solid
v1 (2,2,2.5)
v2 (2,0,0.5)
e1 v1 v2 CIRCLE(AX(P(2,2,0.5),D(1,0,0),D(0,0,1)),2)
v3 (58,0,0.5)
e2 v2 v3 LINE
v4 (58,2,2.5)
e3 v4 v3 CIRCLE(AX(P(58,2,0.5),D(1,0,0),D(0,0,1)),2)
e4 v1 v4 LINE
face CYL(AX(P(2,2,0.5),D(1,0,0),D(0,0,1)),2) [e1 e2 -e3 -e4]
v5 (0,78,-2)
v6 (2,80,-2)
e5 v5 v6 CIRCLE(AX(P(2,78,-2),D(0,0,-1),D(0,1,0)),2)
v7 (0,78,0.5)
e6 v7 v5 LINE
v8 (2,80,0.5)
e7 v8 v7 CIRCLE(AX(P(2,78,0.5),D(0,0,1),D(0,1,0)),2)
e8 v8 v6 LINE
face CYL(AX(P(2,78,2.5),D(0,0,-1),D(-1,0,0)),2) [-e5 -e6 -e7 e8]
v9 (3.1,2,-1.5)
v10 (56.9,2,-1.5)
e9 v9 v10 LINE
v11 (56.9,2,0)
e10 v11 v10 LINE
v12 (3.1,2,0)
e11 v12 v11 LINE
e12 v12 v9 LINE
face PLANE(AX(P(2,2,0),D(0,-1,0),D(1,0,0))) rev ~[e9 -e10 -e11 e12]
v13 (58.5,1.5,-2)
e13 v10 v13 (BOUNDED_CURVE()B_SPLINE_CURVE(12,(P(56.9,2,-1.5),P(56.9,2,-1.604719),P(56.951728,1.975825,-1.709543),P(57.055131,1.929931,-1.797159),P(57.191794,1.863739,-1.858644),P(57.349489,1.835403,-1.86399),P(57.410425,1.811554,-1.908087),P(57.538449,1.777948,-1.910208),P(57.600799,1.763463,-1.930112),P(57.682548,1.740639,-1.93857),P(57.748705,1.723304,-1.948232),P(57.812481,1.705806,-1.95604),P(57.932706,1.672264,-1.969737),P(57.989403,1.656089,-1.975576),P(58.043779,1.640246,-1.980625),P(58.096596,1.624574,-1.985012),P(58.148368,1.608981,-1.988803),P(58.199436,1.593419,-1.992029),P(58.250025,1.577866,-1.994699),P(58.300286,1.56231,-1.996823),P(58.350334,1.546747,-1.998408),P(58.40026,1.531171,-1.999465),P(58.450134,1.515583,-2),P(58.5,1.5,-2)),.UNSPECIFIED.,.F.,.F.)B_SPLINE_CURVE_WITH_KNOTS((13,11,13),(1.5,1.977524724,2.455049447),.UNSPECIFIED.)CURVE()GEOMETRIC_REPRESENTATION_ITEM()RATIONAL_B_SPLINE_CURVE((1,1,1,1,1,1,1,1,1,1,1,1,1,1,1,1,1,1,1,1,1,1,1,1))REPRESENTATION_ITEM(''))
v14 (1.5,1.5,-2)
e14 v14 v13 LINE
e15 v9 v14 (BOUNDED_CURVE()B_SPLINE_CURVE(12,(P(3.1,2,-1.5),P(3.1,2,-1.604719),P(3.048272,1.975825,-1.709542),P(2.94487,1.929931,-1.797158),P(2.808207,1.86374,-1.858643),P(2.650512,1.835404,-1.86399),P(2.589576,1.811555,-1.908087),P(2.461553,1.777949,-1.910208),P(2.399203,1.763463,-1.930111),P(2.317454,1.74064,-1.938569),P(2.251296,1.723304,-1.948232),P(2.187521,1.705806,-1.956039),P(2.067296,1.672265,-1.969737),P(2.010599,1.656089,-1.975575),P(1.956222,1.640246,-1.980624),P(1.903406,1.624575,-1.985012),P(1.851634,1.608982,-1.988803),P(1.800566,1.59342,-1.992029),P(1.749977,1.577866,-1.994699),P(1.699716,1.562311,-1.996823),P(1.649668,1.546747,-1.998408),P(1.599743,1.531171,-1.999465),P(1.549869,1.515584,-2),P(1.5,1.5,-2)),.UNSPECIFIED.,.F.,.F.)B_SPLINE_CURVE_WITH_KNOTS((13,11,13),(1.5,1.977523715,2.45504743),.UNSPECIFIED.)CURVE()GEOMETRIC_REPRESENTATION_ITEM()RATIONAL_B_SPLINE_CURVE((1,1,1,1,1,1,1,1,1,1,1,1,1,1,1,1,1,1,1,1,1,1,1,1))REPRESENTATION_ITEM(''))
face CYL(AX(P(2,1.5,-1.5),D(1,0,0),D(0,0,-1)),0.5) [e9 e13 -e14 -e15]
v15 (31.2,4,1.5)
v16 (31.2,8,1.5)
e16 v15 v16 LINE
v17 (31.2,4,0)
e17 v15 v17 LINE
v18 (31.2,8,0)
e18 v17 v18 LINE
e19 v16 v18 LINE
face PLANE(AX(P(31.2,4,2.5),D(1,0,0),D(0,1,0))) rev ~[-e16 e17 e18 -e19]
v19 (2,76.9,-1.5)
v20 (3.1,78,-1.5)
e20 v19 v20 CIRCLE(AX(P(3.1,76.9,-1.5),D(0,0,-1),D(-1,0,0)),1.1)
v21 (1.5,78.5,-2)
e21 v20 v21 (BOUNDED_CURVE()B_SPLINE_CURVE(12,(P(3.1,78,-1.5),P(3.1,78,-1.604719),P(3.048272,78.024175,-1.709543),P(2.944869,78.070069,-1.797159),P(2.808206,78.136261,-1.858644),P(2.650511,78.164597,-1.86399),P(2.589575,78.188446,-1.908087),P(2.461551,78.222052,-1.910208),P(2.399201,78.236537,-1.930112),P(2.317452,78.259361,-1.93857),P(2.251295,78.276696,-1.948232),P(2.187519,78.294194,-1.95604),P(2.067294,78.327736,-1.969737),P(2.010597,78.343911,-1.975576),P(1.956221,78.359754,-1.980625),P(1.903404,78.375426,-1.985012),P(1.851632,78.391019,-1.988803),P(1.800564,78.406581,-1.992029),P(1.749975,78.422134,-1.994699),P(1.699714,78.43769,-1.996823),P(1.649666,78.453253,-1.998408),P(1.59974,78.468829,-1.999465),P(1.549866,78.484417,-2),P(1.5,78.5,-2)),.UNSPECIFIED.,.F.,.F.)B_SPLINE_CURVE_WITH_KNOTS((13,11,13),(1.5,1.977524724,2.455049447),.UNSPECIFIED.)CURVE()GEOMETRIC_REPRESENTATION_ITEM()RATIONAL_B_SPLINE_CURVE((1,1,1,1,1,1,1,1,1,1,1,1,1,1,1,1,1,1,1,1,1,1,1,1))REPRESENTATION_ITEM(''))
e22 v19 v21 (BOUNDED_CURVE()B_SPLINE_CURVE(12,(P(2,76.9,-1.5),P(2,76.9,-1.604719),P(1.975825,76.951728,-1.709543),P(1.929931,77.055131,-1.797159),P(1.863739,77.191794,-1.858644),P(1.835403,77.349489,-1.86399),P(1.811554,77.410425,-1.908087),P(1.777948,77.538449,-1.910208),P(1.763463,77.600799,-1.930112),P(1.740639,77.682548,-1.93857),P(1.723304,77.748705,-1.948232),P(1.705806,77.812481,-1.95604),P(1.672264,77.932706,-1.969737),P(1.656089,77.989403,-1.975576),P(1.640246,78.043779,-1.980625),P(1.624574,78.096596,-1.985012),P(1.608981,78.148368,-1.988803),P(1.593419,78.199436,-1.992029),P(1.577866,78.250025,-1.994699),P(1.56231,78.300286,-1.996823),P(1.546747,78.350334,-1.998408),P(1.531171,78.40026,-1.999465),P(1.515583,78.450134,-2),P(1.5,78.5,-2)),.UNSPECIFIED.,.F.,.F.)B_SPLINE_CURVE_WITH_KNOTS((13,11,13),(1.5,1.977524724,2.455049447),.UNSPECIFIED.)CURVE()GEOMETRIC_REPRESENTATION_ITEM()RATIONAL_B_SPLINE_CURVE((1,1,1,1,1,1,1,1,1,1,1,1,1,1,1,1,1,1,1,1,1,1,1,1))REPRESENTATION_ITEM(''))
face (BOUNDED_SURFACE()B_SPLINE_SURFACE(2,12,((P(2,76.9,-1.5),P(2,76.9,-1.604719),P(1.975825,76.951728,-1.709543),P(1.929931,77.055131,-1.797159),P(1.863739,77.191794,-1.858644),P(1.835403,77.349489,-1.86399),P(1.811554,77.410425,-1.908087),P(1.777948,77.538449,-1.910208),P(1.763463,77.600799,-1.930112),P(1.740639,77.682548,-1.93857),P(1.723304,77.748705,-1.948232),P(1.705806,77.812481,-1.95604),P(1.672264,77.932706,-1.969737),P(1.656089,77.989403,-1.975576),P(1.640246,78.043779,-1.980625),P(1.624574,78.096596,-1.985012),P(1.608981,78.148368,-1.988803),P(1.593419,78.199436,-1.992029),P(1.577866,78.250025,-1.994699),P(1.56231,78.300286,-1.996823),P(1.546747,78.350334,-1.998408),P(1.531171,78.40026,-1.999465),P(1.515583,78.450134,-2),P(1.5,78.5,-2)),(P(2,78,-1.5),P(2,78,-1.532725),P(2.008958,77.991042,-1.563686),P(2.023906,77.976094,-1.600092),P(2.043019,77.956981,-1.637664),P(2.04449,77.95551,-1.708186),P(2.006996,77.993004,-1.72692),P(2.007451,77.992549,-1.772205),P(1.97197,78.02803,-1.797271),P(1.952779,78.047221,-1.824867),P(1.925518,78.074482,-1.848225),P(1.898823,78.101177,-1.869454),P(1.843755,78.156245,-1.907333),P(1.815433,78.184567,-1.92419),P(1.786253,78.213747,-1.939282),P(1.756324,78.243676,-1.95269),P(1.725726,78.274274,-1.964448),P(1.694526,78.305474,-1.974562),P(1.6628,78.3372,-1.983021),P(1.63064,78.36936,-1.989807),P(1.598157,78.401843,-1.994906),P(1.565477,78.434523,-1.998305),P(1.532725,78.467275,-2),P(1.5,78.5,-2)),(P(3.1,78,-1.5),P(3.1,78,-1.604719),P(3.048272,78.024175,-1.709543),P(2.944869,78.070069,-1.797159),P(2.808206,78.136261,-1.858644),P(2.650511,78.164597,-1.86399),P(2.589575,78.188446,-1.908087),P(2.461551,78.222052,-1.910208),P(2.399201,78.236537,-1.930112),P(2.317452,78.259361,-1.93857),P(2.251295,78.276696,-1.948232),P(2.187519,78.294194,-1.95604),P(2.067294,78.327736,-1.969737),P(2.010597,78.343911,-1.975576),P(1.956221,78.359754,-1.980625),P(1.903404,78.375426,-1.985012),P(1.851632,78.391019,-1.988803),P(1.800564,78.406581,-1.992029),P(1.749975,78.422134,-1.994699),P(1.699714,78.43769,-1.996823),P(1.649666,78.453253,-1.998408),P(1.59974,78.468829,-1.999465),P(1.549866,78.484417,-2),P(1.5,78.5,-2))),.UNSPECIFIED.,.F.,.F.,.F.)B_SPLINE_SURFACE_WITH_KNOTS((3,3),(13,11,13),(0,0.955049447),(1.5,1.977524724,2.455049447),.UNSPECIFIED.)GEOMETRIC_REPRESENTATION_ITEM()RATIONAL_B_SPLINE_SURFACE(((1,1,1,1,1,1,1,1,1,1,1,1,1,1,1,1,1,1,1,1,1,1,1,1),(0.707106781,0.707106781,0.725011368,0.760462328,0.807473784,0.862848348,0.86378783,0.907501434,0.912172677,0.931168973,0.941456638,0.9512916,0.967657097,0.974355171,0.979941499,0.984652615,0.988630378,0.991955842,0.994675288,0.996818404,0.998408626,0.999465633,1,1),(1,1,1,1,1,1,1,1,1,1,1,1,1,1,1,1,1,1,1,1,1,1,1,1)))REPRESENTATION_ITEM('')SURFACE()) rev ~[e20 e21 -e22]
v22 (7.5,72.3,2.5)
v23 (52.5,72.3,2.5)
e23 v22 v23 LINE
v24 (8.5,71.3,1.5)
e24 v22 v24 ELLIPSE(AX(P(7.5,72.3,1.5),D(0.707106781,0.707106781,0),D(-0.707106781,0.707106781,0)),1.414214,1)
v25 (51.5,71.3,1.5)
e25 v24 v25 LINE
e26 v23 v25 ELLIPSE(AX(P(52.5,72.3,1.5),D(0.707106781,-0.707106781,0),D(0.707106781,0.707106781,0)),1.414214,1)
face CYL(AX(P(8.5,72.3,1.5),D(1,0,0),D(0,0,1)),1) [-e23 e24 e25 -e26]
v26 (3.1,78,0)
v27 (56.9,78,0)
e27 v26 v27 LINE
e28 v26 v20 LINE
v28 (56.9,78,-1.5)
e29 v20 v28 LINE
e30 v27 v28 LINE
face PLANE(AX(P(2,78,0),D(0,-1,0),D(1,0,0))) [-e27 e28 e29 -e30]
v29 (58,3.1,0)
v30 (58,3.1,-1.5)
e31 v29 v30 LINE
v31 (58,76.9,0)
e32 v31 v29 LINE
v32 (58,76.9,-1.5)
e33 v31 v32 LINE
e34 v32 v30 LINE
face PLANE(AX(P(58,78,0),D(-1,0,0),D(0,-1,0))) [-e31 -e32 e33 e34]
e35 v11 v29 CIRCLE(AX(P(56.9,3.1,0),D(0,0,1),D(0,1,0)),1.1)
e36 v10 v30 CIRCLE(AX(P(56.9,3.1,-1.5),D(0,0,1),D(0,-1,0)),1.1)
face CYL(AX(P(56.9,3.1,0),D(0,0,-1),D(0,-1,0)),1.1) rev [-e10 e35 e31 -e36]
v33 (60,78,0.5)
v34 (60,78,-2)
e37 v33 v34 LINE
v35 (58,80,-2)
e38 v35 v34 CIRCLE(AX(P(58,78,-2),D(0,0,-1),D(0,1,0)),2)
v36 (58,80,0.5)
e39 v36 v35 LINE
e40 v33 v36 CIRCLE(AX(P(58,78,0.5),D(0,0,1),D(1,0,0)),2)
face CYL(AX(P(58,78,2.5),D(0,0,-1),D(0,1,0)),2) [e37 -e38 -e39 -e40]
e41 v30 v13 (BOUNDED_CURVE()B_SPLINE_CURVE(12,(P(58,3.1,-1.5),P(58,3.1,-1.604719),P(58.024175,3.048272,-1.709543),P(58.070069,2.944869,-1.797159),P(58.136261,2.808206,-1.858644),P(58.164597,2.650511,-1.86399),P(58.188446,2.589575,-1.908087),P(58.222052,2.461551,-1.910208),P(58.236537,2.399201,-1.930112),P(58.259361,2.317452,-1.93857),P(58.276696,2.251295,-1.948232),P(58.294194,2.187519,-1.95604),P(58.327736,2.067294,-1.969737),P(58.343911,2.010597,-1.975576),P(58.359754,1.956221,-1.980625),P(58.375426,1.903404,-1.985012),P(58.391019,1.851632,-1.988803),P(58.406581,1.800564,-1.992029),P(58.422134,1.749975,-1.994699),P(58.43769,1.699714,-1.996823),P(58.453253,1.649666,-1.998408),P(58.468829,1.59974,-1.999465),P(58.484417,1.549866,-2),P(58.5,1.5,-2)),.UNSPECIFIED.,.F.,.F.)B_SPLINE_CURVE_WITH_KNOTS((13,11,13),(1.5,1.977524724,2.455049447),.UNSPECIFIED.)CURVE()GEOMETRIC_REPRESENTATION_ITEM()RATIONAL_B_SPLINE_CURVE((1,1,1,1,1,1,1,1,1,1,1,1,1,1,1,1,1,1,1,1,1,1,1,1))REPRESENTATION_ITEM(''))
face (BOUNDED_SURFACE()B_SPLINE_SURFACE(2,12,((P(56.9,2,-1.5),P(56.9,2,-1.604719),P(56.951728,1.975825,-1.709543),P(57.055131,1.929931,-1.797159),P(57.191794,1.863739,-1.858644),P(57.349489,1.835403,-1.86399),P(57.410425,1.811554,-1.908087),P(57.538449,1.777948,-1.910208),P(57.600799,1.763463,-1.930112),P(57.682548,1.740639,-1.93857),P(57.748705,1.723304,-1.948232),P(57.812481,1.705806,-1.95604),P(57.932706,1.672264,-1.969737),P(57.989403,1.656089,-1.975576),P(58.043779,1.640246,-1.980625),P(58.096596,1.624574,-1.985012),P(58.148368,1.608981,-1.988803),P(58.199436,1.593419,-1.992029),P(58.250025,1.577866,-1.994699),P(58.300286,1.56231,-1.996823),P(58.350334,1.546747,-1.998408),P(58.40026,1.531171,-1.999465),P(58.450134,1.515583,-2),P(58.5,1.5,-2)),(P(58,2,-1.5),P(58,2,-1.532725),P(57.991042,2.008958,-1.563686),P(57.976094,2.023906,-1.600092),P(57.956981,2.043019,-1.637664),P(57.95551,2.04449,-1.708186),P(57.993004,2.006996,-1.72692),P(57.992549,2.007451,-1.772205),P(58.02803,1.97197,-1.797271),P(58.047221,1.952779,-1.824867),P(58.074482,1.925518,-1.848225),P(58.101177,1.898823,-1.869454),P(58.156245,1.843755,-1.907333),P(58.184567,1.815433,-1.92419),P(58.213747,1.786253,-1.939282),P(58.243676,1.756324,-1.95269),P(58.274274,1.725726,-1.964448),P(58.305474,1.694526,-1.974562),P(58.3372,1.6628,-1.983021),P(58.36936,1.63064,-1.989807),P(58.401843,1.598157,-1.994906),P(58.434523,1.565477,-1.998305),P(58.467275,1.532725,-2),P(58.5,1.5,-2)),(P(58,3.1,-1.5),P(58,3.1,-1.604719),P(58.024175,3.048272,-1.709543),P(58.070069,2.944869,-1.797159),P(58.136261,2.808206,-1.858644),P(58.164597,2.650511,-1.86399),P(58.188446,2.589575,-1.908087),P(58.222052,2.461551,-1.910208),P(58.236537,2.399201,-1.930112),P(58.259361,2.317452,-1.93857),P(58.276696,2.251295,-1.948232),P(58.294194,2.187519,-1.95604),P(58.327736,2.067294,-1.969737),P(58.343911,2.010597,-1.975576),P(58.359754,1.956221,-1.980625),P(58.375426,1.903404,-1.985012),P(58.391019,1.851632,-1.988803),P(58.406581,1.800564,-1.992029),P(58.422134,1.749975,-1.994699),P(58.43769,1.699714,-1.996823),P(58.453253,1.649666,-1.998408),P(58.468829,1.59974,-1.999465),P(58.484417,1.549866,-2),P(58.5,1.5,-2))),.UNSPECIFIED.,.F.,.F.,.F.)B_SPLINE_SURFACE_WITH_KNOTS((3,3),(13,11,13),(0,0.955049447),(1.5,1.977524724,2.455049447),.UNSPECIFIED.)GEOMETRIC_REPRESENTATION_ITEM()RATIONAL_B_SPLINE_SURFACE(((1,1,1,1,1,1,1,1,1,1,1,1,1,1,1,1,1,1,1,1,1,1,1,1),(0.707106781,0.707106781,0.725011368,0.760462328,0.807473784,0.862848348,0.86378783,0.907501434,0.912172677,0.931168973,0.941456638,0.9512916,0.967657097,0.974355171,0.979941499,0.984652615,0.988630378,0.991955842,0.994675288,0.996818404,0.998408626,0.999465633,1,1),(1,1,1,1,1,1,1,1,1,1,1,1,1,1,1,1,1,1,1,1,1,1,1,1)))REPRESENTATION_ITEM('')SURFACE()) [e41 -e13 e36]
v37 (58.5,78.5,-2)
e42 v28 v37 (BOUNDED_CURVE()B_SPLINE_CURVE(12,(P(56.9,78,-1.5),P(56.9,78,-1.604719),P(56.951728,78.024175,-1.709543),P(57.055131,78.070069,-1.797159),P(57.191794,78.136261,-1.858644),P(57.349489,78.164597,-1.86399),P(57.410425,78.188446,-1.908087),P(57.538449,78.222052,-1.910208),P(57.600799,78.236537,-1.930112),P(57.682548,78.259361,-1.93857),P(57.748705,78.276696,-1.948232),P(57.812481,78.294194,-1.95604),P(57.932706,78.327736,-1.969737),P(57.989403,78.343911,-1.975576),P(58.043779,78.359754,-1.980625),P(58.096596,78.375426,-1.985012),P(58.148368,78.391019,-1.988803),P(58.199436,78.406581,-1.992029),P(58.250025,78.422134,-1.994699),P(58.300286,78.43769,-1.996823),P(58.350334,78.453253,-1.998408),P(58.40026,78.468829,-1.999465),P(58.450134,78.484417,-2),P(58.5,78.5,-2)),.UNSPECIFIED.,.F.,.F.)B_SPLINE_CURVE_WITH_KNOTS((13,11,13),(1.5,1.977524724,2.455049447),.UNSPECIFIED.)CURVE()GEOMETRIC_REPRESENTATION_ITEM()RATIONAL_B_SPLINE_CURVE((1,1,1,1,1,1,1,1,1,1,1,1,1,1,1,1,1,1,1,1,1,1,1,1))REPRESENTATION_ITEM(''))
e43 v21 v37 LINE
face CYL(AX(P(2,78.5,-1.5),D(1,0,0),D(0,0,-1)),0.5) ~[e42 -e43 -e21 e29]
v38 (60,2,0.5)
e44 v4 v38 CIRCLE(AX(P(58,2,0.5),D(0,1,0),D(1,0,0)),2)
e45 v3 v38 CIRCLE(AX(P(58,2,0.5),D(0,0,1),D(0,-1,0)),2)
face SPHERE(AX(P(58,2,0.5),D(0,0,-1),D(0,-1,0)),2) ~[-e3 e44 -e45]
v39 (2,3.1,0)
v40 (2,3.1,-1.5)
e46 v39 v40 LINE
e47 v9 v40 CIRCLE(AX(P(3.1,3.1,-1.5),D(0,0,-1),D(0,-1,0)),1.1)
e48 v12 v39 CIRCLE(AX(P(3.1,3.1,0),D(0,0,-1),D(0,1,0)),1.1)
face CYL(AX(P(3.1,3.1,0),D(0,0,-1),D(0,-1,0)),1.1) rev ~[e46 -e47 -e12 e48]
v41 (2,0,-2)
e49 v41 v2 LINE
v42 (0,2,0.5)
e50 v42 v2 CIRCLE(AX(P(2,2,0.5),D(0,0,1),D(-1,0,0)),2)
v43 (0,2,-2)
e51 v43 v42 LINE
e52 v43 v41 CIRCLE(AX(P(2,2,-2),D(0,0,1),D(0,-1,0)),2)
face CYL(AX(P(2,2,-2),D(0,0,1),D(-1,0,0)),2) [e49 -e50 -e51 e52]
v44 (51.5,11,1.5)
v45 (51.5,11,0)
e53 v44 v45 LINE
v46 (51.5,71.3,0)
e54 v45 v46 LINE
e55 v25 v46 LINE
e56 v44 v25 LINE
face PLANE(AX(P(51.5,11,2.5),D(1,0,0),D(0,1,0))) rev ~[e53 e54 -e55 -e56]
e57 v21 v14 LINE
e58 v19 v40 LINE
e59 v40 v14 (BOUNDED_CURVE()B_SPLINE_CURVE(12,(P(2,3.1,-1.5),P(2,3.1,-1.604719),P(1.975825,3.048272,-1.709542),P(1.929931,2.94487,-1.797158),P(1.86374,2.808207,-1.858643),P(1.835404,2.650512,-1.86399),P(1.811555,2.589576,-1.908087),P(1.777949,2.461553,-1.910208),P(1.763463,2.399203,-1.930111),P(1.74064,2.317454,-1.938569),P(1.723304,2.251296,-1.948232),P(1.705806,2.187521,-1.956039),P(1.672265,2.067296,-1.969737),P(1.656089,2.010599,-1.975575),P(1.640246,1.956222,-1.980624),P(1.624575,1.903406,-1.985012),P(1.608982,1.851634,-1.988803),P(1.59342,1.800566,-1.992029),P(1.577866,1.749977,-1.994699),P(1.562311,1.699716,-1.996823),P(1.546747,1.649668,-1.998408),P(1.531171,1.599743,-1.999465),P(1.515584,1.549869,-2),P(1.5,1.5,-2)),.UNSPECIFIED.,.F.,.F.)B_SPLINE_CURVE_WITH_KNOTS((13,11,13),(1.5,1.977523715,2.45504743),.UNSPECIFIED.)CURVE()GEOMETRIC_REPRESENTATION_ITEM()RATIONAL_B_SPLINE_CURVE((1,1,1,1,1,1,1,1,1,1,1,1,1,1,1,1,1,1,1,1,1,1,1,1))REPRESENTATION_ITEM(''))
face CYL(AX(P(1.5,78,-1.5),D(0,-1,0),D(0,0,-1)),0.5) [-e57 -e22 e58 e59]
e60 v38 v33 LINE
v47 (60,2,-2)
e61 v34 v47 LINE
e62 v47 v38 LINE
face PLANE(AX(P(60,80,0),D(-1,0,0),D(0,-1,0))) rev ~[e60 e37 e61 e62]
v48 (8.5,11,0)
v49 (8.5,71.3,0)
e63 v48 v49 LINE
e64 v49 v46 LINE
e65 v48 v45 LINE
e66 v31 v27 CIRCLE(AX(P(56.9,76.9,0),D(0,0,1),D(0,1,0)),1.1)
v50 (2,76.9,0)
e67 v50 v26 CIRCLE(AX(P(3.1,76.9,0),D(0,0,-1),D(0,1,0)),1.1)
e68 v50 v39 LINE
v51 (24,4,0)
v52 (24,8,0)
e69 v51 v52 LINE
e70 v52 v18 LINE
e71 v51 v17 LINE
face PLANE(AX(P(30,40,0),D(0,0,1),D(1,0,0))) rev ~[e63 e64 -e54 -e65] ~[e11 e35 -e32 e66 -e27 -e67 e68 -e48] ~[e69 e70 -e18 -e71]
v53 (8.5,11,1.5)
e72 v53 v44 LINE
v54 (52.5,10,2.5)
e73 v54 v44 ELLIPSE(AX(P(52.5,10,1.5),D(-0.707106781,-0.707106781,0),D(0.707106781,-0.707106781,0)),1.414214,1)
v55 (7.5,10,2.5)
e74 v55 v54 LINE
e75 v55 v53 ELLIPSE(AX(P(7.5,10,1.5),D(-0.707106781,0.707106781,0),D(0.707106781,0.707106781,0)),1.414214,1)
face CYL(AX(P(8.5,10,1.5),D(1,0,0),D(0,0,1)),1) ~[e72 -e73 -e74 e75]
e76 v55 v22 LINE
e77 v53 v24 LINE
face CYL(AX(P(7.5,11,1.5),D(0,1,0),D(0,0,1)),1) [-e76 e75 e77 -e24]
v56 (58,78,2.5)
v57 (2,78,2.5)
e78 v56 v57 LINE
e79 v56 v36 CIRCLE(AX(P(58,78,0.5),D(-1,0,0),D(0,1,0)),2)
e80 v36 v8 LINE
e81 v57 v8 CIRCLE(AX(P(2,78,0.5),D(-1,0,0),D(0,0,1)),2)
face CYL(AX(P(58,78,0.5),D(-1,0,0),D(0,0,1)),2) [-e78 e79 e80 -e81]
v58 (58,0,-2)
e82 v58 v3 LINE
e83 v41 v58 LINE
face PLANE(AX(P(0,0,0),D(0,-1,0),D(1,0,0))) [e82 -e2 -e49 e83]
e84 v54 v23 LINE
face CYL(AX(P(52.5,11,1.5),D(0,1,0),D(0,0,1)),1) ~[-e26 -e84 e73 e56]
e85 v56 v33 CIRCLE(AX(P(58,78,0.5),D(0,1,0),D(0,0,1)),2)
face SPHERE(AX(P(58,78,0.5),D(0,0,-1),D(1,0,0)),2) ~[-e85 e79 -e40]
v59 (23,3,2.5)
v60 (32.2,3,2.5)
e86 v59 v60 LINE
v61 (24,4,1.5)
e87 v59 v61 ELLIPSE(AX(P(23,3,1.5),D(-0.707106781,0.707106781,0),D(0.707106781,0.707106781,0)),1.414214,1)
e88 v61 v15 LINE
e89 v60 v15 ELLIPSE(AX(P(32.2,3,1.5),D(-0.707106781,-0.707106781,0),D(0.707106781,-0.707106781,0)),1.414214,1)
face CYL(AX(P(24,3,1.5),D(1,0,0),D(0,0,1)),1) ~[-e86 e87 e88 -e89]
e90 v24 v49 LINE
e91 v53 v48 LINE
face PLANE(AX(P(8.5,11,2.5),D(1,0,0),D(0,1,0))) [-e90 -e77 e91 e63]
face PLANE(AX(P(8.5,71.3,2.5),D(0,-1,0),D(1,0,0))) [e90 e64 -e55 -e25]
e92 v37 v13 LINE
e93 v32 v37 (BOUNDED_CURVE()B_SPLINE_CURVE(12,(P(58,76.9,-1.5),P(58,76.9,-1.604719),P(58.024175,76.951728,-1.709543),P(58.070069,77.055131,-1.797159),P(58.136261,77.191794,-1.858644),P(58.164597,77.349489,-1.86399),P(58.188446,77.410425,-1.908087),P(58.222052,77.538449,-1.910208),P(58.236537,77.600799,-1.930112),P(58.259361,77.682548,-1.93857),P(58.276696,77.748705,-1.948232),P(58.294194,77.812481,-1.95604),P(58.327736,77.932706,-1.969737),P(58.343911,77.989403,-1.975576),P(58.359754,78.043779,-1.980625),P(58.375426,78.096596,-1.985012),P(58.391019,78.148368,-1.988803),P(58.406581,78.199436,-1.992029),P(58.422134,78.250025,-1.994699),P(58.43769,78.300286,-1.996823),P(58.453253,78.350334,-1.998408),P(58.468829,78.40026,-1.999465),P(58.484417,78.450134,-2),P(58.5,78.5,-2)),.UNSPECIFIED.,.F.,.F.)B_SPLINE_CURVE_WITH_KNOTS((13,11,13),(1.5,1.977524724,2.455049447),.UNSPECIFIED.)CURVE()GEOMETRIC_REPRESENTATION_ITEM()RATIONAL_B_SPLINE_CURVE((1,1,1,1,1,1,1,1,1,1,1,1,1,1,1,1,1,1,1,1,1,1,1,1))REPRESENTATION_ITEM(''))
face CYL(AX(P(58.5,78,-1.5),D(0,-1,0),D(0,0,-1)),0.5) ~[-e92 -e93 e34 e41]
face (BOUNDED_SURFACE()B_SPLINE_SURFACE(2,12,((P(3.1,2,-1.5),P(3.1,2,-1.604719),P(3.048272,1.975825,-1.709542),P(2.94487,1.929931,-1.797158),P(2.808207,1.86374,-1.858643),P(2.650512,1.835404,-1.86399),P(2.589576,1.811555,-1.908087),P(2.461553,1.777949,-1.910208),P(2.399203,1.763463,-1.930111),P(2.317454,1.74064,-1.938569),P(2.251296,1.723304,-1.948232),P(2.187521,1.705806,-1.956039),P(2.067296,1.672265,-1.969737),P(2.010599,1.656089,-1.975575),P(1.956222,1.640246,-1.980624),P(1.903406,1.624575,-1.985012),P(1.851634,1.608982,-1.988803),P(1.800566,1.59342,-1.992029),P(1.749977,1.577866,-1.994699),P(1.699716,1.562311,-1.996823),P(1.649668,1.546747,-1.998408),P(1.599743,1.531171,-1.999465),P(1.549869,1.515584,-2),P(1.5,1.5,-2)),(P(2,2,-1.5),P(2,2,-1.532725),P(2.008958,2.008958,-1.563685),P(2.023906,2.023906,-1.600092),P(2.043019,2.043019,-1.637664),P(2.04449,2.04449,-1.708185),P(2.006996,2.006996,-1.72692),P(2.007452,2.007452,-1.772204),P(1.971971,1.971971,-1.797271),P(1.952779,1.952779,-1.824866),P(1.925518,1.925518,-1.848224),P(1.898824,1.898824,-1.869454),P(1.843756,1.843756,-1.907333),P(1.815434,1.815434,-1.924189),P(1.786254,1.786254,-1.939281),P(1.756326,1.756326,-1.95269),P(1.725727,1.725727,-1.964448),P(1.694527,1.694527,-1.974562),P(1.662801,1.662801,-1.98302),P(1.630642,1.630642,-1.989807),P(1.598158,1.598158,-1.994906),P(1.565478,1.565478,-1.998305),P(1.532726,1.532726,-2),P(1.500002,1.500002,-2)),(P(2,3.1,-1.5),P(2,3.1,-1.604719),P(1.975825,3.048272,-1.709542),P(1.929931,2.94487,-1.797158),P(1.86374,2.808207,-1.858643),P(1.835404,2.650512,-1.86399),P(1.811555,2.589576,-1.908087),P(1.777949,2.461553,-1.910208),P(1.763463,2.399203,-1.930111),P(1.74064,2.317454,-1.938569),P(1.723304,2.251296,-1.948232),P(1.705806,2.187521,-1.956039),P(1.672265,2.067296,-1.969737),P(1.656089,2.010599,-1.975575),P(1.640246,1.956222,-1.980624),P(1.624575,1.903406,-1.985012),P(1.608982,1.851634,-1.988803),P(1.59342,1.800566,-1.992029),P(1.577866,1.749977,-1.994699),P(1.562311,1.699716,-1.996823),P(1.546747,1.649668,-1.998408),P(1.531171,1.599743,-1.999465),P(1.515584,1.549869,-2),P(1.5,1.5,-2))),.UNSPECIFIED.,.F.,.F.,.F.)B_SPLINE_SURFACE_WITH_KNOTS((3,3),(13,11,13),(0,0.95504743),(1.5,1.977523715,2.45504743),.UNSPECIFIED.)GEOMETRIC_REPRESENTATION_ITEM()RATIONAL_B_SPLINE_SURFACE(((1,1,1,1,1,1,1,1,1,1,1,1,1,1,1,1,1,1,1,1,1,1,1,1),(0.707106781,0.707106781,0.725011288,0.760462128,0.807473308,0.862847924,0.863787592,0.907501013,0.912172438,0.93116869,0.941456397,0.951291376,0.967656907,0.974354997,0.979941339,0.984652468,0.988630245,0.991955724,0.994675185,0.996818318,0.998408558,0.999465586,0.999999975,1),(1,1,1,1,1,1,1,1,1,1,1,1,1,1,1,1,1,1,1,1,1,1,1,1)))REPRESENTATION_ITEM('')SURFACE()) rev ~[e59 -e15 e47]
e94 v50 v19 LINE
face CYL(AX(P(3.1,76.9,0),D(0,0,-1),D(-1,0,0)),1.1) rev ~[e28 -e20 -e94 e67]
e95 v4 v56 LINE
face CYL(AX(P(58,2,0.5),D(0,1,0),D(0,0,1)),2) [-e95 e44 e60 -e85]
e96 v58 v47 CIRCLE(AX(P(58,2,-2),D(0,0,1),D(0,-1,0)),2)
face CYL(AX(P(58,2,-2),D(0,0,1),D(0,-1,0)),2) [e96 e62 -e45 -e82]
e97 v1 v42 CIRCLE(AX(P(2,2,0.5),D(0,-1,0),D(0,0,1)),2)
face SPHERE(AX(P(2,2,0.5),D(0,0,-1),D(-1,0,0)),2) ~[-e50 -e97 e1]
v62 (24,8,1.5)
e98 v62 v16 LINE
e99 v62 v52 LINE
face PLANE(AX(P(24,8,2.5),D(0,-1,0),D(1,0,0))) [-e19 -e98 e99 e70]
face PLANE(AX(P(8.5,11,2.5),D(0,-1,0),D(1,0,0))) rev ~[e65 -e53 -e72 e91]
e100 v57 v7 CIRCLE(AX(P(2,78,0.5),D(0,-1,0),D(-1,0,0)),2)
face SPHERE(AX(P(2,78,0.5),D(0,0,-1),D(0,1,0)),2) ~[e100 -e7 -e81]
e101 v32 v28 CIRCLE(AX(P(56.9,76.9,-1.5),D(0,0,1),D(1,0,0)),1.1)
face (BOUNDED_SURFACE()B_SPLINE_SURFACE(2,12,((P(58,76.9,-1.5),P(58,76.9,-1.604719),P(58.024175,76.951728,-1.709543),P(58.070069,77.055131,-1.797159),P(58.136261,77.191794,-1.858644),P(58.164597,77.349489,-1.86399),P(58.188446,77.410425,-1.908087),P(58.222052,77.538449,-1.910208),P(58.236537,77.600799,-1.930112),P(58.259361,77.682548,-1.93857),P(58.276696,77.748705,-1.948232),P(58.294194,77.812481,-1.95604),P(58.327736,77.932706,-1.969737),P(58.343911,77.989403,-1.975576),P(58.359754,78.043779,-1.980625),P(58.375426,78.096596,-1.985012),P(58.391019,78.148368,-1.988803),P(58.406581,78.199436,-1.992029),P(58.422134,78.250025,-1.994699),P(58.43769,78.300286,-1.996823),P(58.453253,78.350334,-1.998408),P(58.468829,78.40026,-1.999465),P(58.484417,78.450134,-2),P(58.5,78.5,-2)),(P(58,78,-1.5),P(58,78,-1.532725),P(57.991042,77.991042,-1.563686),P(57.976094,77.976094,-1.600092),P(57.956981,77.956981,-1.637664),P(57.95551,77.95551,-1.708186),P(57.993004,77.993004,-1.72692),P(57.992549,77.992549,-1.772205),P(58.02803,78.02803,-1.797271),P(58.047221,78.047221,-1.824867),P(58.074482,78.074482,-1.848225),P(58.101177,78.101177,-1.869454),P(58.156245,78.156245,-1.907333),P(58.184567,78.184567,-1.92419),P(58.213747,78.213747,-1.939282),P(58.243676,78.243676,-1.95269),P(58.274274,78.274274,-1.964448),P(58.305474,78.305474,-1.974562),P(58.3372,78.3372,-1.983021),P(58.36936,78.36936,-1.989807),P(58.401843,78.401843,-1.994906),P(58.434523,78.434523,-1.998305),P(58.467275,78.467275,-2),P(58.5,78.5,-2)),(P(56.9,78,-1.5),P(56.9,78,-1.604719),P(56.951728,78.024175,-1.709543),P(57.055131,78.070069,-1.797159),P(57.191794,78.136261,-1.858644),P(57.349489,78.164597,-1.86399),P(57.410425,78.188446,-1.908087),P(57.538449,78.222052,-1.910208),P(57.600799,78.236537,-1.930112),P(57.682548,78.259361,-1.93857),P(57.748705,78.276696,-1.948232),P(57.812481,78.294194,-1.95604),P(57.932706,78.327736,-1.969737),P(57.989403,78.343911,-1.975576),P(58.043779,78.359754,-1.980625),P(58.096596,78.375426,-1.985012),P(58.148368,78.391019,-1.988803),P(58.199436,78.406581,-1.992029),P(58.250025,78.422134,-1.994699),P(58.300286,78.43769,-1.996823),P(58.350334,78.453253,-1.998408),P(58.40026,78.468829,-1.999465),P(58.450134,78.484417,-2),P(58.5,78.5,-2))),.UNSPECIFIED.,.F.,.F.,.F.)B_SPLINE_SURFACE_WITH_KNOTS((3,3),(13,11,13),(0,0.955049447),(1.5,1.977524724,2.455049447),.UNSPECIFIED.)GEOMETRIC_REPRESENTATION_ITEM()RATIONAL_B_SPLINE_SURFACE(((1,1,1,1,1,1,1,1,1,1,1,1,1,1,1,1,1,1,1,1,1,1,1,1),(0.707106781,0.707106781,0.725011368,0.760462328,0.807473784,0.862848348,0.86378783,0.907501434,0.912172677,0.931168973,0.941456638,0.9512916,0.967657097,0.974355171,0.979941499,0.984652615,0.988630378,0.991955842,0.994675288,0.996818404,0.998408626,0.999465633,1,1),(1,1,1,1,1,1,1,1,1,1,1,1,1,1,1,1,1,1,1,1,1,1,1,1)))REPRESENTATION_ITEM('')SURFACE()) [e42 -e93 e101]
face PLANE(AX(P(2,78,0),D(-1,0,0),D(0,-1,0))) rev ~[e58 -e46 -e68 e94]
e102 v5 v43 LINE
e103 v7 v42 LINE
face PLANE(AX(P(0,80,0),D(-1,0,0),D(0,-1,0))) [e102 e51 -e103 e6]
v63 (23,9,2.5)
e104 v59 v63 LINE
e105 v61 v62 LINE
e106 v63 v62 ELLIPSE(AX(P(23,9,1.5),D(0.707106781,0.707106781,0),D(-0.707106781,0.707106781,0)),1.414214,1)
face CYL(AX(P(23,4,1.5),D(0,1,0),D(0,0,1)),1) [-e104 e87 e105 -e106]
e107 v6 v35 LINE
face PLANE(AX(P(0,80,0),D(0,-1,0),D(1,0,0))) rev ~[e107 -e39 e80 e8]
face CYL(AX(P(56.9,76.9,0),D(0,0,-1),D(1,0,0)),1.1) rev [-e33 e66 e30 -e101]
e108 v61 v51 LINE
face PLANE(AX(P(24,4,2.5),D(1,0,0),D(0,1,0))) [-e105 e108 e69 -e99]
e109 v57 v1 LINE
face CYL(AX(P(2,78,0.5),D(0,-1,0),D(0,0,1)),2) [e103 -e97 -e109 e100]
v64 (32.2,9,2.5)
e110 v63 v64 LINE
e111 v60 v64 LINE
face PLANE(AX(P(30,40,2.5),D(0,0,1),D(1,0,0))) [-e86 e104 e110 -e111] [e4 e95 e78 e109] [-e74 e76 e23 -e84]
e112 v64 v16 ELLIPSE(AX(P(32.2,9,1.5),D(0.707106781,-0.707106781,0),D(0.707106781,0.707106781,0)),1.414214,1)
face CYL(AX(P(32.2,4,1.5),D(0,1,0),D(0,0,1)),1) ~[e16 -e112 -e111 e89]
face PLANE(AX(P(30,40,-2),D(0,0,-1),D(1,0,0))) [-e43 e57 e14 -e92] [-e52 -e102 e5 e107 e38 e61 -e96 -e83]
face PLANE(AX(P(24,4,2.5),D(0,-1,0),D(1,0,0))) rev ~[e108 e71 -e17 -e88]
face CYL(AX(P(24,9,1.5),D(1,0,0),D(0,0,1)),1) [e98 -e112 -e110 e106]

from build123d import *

# Parameters (mm, degrees)
SKETCH003_W     = 60
SKETCH003_H     = 80
PAD_DEPTH       = 2.5
SKETCH_W        = 43
SKETCH_H        = 60.3
POCKET_DEPTH    = 5
SKETCH004_W     = 60
SKETCH004_H     = 80
SKETCH004_W_2   = 56
SKETCH004_H_2   = 76
PAD001_DEPTH    = 2
SKETCH005_W     = 7.2
SKETCH005_H     = 4
POCKET001_DEPTH = 5
FILLET_R        = 2
FILLET001_R     = 1
FILLET002_R     = 1
FILLET003_R     = 2
FILLET004_R     = 0.5
FILLET005_R     = 1.1


with BuildPart() as part:
    # Sketch003 → Pad (new body)
    with BuildSketch(Plane.XY):
        with Locations((30, 40)):
            Rectangle(SKETCH003_W, SKETCH003_H)
    extrude(amount=PAD_DEPTH)

    # Sketch (on Face6 of Pad) → Pocket (cut)
    with BuildSketch(Plane.XY.offset(2.5)):
        with Locations((30, 41.15)):
            Rectangle(SKETCH_W, SKETCH_H)
    extrude(amount=-POCKET_DEPTH, mode=Mode.SUBTRACT)

    # Sketch004 (on Face4 of Pocket) → Pad001 (join)
    with BuildSketch(Plane(origin=(0, 0, 0), x_dir=(1, 0, 0), z_dir=(0, 0, -1))):
        with Locations((30, -40)):
            Rectangle(SKETCH004_W, SKETCH004_H)
        with Locations((30, -40)):
            Rectangle(SKETCH004_W_2, SKETCH004_H_2, mode=Mode.SUBTRACT)
    extrude(amount=PAD001_DEPTH)

    # Sketch005 (on Face7 of Pad001) → Pocket001 (cut)
    with BuildSketch(Plane.XY.offset(2.5)):
        with Locations((27.6, 6)):
            Rectangle(SKETCH005_W, SKETCH005_H)
    extrude(amount=-POCKET001_DEPTH, mode=Mode.SUBTRACT)

    # Fillet
    fillet_edges = [part.edges().sort_by_distance(p)[0] for p in [
        (60, 0, 0.25),
        (0, 0, 0.25),
        (0, 80, 0.25),
        (60, 80, 0.25),
    ]]
    fillet(fillet_edges, radius=FILLET_R)

    # Fillet001
    fillet001_edges = [part.edges().sort_by_distance(p)[0] for p in [
        (30, 11, 2.5),
        (8.5, 41.15, 2.5),
        (30, 71.3, 2.5),
        (51.5, 41.15, 2.5),
    ]]
    fillet(fillet001_edges, radius=FILLET001_R)

    # Fillet002
    fillet002_edges = [part.edges().sort_by_distance(p)[0] for p in [
        (27.6, 4, 2.5),
        (24, 6, 2.5),
        (27.6, 8, 2.5),
        (31.2, 6, 2.5),
    ]]
    fillet(fillet002_edges, radius=FILLET002_R)

    # Fillet003
    fillet003_edges = [part.edges().sort_by_distance(p)[0] for p in [
        (30, 0, 2.5),
        (59.414214, 0.585786, 2.5),
        (60, 40, 2.5),
        (0.585786, 0.585786, 2.5),
        (0, 40, 2.5),
        (59.414214, 79.414214, 2.5),
        (30, 80, 2.5),
        (0.585786, 79.414214, 2.5),
    ]]
    fillet(fillet003_edges, radius=FILLET003_R)

    # Fillet004
    fillet004_edges = [part.edges().sort_by_distance(p)[0] for p in [
        (30, 2, -2),
        (58, 40, -2),
        (30, 78, -2),
        (2, 40, -2),
    ]]
    fillet(fillet004_edges, radius=FILLET004_R)

    # Fillet005
    fillet005_edges = [part.edges().sort_by_distance(p)[0] for p in [
        (2, 2, -0.75),
        (58, 2, -0.75),
        (2, 78, -0.75),
        (58, 78, -0.75),
    ]]
    fillet(fillet005_edges, radius=FILLET005_R)


solid = part.part
